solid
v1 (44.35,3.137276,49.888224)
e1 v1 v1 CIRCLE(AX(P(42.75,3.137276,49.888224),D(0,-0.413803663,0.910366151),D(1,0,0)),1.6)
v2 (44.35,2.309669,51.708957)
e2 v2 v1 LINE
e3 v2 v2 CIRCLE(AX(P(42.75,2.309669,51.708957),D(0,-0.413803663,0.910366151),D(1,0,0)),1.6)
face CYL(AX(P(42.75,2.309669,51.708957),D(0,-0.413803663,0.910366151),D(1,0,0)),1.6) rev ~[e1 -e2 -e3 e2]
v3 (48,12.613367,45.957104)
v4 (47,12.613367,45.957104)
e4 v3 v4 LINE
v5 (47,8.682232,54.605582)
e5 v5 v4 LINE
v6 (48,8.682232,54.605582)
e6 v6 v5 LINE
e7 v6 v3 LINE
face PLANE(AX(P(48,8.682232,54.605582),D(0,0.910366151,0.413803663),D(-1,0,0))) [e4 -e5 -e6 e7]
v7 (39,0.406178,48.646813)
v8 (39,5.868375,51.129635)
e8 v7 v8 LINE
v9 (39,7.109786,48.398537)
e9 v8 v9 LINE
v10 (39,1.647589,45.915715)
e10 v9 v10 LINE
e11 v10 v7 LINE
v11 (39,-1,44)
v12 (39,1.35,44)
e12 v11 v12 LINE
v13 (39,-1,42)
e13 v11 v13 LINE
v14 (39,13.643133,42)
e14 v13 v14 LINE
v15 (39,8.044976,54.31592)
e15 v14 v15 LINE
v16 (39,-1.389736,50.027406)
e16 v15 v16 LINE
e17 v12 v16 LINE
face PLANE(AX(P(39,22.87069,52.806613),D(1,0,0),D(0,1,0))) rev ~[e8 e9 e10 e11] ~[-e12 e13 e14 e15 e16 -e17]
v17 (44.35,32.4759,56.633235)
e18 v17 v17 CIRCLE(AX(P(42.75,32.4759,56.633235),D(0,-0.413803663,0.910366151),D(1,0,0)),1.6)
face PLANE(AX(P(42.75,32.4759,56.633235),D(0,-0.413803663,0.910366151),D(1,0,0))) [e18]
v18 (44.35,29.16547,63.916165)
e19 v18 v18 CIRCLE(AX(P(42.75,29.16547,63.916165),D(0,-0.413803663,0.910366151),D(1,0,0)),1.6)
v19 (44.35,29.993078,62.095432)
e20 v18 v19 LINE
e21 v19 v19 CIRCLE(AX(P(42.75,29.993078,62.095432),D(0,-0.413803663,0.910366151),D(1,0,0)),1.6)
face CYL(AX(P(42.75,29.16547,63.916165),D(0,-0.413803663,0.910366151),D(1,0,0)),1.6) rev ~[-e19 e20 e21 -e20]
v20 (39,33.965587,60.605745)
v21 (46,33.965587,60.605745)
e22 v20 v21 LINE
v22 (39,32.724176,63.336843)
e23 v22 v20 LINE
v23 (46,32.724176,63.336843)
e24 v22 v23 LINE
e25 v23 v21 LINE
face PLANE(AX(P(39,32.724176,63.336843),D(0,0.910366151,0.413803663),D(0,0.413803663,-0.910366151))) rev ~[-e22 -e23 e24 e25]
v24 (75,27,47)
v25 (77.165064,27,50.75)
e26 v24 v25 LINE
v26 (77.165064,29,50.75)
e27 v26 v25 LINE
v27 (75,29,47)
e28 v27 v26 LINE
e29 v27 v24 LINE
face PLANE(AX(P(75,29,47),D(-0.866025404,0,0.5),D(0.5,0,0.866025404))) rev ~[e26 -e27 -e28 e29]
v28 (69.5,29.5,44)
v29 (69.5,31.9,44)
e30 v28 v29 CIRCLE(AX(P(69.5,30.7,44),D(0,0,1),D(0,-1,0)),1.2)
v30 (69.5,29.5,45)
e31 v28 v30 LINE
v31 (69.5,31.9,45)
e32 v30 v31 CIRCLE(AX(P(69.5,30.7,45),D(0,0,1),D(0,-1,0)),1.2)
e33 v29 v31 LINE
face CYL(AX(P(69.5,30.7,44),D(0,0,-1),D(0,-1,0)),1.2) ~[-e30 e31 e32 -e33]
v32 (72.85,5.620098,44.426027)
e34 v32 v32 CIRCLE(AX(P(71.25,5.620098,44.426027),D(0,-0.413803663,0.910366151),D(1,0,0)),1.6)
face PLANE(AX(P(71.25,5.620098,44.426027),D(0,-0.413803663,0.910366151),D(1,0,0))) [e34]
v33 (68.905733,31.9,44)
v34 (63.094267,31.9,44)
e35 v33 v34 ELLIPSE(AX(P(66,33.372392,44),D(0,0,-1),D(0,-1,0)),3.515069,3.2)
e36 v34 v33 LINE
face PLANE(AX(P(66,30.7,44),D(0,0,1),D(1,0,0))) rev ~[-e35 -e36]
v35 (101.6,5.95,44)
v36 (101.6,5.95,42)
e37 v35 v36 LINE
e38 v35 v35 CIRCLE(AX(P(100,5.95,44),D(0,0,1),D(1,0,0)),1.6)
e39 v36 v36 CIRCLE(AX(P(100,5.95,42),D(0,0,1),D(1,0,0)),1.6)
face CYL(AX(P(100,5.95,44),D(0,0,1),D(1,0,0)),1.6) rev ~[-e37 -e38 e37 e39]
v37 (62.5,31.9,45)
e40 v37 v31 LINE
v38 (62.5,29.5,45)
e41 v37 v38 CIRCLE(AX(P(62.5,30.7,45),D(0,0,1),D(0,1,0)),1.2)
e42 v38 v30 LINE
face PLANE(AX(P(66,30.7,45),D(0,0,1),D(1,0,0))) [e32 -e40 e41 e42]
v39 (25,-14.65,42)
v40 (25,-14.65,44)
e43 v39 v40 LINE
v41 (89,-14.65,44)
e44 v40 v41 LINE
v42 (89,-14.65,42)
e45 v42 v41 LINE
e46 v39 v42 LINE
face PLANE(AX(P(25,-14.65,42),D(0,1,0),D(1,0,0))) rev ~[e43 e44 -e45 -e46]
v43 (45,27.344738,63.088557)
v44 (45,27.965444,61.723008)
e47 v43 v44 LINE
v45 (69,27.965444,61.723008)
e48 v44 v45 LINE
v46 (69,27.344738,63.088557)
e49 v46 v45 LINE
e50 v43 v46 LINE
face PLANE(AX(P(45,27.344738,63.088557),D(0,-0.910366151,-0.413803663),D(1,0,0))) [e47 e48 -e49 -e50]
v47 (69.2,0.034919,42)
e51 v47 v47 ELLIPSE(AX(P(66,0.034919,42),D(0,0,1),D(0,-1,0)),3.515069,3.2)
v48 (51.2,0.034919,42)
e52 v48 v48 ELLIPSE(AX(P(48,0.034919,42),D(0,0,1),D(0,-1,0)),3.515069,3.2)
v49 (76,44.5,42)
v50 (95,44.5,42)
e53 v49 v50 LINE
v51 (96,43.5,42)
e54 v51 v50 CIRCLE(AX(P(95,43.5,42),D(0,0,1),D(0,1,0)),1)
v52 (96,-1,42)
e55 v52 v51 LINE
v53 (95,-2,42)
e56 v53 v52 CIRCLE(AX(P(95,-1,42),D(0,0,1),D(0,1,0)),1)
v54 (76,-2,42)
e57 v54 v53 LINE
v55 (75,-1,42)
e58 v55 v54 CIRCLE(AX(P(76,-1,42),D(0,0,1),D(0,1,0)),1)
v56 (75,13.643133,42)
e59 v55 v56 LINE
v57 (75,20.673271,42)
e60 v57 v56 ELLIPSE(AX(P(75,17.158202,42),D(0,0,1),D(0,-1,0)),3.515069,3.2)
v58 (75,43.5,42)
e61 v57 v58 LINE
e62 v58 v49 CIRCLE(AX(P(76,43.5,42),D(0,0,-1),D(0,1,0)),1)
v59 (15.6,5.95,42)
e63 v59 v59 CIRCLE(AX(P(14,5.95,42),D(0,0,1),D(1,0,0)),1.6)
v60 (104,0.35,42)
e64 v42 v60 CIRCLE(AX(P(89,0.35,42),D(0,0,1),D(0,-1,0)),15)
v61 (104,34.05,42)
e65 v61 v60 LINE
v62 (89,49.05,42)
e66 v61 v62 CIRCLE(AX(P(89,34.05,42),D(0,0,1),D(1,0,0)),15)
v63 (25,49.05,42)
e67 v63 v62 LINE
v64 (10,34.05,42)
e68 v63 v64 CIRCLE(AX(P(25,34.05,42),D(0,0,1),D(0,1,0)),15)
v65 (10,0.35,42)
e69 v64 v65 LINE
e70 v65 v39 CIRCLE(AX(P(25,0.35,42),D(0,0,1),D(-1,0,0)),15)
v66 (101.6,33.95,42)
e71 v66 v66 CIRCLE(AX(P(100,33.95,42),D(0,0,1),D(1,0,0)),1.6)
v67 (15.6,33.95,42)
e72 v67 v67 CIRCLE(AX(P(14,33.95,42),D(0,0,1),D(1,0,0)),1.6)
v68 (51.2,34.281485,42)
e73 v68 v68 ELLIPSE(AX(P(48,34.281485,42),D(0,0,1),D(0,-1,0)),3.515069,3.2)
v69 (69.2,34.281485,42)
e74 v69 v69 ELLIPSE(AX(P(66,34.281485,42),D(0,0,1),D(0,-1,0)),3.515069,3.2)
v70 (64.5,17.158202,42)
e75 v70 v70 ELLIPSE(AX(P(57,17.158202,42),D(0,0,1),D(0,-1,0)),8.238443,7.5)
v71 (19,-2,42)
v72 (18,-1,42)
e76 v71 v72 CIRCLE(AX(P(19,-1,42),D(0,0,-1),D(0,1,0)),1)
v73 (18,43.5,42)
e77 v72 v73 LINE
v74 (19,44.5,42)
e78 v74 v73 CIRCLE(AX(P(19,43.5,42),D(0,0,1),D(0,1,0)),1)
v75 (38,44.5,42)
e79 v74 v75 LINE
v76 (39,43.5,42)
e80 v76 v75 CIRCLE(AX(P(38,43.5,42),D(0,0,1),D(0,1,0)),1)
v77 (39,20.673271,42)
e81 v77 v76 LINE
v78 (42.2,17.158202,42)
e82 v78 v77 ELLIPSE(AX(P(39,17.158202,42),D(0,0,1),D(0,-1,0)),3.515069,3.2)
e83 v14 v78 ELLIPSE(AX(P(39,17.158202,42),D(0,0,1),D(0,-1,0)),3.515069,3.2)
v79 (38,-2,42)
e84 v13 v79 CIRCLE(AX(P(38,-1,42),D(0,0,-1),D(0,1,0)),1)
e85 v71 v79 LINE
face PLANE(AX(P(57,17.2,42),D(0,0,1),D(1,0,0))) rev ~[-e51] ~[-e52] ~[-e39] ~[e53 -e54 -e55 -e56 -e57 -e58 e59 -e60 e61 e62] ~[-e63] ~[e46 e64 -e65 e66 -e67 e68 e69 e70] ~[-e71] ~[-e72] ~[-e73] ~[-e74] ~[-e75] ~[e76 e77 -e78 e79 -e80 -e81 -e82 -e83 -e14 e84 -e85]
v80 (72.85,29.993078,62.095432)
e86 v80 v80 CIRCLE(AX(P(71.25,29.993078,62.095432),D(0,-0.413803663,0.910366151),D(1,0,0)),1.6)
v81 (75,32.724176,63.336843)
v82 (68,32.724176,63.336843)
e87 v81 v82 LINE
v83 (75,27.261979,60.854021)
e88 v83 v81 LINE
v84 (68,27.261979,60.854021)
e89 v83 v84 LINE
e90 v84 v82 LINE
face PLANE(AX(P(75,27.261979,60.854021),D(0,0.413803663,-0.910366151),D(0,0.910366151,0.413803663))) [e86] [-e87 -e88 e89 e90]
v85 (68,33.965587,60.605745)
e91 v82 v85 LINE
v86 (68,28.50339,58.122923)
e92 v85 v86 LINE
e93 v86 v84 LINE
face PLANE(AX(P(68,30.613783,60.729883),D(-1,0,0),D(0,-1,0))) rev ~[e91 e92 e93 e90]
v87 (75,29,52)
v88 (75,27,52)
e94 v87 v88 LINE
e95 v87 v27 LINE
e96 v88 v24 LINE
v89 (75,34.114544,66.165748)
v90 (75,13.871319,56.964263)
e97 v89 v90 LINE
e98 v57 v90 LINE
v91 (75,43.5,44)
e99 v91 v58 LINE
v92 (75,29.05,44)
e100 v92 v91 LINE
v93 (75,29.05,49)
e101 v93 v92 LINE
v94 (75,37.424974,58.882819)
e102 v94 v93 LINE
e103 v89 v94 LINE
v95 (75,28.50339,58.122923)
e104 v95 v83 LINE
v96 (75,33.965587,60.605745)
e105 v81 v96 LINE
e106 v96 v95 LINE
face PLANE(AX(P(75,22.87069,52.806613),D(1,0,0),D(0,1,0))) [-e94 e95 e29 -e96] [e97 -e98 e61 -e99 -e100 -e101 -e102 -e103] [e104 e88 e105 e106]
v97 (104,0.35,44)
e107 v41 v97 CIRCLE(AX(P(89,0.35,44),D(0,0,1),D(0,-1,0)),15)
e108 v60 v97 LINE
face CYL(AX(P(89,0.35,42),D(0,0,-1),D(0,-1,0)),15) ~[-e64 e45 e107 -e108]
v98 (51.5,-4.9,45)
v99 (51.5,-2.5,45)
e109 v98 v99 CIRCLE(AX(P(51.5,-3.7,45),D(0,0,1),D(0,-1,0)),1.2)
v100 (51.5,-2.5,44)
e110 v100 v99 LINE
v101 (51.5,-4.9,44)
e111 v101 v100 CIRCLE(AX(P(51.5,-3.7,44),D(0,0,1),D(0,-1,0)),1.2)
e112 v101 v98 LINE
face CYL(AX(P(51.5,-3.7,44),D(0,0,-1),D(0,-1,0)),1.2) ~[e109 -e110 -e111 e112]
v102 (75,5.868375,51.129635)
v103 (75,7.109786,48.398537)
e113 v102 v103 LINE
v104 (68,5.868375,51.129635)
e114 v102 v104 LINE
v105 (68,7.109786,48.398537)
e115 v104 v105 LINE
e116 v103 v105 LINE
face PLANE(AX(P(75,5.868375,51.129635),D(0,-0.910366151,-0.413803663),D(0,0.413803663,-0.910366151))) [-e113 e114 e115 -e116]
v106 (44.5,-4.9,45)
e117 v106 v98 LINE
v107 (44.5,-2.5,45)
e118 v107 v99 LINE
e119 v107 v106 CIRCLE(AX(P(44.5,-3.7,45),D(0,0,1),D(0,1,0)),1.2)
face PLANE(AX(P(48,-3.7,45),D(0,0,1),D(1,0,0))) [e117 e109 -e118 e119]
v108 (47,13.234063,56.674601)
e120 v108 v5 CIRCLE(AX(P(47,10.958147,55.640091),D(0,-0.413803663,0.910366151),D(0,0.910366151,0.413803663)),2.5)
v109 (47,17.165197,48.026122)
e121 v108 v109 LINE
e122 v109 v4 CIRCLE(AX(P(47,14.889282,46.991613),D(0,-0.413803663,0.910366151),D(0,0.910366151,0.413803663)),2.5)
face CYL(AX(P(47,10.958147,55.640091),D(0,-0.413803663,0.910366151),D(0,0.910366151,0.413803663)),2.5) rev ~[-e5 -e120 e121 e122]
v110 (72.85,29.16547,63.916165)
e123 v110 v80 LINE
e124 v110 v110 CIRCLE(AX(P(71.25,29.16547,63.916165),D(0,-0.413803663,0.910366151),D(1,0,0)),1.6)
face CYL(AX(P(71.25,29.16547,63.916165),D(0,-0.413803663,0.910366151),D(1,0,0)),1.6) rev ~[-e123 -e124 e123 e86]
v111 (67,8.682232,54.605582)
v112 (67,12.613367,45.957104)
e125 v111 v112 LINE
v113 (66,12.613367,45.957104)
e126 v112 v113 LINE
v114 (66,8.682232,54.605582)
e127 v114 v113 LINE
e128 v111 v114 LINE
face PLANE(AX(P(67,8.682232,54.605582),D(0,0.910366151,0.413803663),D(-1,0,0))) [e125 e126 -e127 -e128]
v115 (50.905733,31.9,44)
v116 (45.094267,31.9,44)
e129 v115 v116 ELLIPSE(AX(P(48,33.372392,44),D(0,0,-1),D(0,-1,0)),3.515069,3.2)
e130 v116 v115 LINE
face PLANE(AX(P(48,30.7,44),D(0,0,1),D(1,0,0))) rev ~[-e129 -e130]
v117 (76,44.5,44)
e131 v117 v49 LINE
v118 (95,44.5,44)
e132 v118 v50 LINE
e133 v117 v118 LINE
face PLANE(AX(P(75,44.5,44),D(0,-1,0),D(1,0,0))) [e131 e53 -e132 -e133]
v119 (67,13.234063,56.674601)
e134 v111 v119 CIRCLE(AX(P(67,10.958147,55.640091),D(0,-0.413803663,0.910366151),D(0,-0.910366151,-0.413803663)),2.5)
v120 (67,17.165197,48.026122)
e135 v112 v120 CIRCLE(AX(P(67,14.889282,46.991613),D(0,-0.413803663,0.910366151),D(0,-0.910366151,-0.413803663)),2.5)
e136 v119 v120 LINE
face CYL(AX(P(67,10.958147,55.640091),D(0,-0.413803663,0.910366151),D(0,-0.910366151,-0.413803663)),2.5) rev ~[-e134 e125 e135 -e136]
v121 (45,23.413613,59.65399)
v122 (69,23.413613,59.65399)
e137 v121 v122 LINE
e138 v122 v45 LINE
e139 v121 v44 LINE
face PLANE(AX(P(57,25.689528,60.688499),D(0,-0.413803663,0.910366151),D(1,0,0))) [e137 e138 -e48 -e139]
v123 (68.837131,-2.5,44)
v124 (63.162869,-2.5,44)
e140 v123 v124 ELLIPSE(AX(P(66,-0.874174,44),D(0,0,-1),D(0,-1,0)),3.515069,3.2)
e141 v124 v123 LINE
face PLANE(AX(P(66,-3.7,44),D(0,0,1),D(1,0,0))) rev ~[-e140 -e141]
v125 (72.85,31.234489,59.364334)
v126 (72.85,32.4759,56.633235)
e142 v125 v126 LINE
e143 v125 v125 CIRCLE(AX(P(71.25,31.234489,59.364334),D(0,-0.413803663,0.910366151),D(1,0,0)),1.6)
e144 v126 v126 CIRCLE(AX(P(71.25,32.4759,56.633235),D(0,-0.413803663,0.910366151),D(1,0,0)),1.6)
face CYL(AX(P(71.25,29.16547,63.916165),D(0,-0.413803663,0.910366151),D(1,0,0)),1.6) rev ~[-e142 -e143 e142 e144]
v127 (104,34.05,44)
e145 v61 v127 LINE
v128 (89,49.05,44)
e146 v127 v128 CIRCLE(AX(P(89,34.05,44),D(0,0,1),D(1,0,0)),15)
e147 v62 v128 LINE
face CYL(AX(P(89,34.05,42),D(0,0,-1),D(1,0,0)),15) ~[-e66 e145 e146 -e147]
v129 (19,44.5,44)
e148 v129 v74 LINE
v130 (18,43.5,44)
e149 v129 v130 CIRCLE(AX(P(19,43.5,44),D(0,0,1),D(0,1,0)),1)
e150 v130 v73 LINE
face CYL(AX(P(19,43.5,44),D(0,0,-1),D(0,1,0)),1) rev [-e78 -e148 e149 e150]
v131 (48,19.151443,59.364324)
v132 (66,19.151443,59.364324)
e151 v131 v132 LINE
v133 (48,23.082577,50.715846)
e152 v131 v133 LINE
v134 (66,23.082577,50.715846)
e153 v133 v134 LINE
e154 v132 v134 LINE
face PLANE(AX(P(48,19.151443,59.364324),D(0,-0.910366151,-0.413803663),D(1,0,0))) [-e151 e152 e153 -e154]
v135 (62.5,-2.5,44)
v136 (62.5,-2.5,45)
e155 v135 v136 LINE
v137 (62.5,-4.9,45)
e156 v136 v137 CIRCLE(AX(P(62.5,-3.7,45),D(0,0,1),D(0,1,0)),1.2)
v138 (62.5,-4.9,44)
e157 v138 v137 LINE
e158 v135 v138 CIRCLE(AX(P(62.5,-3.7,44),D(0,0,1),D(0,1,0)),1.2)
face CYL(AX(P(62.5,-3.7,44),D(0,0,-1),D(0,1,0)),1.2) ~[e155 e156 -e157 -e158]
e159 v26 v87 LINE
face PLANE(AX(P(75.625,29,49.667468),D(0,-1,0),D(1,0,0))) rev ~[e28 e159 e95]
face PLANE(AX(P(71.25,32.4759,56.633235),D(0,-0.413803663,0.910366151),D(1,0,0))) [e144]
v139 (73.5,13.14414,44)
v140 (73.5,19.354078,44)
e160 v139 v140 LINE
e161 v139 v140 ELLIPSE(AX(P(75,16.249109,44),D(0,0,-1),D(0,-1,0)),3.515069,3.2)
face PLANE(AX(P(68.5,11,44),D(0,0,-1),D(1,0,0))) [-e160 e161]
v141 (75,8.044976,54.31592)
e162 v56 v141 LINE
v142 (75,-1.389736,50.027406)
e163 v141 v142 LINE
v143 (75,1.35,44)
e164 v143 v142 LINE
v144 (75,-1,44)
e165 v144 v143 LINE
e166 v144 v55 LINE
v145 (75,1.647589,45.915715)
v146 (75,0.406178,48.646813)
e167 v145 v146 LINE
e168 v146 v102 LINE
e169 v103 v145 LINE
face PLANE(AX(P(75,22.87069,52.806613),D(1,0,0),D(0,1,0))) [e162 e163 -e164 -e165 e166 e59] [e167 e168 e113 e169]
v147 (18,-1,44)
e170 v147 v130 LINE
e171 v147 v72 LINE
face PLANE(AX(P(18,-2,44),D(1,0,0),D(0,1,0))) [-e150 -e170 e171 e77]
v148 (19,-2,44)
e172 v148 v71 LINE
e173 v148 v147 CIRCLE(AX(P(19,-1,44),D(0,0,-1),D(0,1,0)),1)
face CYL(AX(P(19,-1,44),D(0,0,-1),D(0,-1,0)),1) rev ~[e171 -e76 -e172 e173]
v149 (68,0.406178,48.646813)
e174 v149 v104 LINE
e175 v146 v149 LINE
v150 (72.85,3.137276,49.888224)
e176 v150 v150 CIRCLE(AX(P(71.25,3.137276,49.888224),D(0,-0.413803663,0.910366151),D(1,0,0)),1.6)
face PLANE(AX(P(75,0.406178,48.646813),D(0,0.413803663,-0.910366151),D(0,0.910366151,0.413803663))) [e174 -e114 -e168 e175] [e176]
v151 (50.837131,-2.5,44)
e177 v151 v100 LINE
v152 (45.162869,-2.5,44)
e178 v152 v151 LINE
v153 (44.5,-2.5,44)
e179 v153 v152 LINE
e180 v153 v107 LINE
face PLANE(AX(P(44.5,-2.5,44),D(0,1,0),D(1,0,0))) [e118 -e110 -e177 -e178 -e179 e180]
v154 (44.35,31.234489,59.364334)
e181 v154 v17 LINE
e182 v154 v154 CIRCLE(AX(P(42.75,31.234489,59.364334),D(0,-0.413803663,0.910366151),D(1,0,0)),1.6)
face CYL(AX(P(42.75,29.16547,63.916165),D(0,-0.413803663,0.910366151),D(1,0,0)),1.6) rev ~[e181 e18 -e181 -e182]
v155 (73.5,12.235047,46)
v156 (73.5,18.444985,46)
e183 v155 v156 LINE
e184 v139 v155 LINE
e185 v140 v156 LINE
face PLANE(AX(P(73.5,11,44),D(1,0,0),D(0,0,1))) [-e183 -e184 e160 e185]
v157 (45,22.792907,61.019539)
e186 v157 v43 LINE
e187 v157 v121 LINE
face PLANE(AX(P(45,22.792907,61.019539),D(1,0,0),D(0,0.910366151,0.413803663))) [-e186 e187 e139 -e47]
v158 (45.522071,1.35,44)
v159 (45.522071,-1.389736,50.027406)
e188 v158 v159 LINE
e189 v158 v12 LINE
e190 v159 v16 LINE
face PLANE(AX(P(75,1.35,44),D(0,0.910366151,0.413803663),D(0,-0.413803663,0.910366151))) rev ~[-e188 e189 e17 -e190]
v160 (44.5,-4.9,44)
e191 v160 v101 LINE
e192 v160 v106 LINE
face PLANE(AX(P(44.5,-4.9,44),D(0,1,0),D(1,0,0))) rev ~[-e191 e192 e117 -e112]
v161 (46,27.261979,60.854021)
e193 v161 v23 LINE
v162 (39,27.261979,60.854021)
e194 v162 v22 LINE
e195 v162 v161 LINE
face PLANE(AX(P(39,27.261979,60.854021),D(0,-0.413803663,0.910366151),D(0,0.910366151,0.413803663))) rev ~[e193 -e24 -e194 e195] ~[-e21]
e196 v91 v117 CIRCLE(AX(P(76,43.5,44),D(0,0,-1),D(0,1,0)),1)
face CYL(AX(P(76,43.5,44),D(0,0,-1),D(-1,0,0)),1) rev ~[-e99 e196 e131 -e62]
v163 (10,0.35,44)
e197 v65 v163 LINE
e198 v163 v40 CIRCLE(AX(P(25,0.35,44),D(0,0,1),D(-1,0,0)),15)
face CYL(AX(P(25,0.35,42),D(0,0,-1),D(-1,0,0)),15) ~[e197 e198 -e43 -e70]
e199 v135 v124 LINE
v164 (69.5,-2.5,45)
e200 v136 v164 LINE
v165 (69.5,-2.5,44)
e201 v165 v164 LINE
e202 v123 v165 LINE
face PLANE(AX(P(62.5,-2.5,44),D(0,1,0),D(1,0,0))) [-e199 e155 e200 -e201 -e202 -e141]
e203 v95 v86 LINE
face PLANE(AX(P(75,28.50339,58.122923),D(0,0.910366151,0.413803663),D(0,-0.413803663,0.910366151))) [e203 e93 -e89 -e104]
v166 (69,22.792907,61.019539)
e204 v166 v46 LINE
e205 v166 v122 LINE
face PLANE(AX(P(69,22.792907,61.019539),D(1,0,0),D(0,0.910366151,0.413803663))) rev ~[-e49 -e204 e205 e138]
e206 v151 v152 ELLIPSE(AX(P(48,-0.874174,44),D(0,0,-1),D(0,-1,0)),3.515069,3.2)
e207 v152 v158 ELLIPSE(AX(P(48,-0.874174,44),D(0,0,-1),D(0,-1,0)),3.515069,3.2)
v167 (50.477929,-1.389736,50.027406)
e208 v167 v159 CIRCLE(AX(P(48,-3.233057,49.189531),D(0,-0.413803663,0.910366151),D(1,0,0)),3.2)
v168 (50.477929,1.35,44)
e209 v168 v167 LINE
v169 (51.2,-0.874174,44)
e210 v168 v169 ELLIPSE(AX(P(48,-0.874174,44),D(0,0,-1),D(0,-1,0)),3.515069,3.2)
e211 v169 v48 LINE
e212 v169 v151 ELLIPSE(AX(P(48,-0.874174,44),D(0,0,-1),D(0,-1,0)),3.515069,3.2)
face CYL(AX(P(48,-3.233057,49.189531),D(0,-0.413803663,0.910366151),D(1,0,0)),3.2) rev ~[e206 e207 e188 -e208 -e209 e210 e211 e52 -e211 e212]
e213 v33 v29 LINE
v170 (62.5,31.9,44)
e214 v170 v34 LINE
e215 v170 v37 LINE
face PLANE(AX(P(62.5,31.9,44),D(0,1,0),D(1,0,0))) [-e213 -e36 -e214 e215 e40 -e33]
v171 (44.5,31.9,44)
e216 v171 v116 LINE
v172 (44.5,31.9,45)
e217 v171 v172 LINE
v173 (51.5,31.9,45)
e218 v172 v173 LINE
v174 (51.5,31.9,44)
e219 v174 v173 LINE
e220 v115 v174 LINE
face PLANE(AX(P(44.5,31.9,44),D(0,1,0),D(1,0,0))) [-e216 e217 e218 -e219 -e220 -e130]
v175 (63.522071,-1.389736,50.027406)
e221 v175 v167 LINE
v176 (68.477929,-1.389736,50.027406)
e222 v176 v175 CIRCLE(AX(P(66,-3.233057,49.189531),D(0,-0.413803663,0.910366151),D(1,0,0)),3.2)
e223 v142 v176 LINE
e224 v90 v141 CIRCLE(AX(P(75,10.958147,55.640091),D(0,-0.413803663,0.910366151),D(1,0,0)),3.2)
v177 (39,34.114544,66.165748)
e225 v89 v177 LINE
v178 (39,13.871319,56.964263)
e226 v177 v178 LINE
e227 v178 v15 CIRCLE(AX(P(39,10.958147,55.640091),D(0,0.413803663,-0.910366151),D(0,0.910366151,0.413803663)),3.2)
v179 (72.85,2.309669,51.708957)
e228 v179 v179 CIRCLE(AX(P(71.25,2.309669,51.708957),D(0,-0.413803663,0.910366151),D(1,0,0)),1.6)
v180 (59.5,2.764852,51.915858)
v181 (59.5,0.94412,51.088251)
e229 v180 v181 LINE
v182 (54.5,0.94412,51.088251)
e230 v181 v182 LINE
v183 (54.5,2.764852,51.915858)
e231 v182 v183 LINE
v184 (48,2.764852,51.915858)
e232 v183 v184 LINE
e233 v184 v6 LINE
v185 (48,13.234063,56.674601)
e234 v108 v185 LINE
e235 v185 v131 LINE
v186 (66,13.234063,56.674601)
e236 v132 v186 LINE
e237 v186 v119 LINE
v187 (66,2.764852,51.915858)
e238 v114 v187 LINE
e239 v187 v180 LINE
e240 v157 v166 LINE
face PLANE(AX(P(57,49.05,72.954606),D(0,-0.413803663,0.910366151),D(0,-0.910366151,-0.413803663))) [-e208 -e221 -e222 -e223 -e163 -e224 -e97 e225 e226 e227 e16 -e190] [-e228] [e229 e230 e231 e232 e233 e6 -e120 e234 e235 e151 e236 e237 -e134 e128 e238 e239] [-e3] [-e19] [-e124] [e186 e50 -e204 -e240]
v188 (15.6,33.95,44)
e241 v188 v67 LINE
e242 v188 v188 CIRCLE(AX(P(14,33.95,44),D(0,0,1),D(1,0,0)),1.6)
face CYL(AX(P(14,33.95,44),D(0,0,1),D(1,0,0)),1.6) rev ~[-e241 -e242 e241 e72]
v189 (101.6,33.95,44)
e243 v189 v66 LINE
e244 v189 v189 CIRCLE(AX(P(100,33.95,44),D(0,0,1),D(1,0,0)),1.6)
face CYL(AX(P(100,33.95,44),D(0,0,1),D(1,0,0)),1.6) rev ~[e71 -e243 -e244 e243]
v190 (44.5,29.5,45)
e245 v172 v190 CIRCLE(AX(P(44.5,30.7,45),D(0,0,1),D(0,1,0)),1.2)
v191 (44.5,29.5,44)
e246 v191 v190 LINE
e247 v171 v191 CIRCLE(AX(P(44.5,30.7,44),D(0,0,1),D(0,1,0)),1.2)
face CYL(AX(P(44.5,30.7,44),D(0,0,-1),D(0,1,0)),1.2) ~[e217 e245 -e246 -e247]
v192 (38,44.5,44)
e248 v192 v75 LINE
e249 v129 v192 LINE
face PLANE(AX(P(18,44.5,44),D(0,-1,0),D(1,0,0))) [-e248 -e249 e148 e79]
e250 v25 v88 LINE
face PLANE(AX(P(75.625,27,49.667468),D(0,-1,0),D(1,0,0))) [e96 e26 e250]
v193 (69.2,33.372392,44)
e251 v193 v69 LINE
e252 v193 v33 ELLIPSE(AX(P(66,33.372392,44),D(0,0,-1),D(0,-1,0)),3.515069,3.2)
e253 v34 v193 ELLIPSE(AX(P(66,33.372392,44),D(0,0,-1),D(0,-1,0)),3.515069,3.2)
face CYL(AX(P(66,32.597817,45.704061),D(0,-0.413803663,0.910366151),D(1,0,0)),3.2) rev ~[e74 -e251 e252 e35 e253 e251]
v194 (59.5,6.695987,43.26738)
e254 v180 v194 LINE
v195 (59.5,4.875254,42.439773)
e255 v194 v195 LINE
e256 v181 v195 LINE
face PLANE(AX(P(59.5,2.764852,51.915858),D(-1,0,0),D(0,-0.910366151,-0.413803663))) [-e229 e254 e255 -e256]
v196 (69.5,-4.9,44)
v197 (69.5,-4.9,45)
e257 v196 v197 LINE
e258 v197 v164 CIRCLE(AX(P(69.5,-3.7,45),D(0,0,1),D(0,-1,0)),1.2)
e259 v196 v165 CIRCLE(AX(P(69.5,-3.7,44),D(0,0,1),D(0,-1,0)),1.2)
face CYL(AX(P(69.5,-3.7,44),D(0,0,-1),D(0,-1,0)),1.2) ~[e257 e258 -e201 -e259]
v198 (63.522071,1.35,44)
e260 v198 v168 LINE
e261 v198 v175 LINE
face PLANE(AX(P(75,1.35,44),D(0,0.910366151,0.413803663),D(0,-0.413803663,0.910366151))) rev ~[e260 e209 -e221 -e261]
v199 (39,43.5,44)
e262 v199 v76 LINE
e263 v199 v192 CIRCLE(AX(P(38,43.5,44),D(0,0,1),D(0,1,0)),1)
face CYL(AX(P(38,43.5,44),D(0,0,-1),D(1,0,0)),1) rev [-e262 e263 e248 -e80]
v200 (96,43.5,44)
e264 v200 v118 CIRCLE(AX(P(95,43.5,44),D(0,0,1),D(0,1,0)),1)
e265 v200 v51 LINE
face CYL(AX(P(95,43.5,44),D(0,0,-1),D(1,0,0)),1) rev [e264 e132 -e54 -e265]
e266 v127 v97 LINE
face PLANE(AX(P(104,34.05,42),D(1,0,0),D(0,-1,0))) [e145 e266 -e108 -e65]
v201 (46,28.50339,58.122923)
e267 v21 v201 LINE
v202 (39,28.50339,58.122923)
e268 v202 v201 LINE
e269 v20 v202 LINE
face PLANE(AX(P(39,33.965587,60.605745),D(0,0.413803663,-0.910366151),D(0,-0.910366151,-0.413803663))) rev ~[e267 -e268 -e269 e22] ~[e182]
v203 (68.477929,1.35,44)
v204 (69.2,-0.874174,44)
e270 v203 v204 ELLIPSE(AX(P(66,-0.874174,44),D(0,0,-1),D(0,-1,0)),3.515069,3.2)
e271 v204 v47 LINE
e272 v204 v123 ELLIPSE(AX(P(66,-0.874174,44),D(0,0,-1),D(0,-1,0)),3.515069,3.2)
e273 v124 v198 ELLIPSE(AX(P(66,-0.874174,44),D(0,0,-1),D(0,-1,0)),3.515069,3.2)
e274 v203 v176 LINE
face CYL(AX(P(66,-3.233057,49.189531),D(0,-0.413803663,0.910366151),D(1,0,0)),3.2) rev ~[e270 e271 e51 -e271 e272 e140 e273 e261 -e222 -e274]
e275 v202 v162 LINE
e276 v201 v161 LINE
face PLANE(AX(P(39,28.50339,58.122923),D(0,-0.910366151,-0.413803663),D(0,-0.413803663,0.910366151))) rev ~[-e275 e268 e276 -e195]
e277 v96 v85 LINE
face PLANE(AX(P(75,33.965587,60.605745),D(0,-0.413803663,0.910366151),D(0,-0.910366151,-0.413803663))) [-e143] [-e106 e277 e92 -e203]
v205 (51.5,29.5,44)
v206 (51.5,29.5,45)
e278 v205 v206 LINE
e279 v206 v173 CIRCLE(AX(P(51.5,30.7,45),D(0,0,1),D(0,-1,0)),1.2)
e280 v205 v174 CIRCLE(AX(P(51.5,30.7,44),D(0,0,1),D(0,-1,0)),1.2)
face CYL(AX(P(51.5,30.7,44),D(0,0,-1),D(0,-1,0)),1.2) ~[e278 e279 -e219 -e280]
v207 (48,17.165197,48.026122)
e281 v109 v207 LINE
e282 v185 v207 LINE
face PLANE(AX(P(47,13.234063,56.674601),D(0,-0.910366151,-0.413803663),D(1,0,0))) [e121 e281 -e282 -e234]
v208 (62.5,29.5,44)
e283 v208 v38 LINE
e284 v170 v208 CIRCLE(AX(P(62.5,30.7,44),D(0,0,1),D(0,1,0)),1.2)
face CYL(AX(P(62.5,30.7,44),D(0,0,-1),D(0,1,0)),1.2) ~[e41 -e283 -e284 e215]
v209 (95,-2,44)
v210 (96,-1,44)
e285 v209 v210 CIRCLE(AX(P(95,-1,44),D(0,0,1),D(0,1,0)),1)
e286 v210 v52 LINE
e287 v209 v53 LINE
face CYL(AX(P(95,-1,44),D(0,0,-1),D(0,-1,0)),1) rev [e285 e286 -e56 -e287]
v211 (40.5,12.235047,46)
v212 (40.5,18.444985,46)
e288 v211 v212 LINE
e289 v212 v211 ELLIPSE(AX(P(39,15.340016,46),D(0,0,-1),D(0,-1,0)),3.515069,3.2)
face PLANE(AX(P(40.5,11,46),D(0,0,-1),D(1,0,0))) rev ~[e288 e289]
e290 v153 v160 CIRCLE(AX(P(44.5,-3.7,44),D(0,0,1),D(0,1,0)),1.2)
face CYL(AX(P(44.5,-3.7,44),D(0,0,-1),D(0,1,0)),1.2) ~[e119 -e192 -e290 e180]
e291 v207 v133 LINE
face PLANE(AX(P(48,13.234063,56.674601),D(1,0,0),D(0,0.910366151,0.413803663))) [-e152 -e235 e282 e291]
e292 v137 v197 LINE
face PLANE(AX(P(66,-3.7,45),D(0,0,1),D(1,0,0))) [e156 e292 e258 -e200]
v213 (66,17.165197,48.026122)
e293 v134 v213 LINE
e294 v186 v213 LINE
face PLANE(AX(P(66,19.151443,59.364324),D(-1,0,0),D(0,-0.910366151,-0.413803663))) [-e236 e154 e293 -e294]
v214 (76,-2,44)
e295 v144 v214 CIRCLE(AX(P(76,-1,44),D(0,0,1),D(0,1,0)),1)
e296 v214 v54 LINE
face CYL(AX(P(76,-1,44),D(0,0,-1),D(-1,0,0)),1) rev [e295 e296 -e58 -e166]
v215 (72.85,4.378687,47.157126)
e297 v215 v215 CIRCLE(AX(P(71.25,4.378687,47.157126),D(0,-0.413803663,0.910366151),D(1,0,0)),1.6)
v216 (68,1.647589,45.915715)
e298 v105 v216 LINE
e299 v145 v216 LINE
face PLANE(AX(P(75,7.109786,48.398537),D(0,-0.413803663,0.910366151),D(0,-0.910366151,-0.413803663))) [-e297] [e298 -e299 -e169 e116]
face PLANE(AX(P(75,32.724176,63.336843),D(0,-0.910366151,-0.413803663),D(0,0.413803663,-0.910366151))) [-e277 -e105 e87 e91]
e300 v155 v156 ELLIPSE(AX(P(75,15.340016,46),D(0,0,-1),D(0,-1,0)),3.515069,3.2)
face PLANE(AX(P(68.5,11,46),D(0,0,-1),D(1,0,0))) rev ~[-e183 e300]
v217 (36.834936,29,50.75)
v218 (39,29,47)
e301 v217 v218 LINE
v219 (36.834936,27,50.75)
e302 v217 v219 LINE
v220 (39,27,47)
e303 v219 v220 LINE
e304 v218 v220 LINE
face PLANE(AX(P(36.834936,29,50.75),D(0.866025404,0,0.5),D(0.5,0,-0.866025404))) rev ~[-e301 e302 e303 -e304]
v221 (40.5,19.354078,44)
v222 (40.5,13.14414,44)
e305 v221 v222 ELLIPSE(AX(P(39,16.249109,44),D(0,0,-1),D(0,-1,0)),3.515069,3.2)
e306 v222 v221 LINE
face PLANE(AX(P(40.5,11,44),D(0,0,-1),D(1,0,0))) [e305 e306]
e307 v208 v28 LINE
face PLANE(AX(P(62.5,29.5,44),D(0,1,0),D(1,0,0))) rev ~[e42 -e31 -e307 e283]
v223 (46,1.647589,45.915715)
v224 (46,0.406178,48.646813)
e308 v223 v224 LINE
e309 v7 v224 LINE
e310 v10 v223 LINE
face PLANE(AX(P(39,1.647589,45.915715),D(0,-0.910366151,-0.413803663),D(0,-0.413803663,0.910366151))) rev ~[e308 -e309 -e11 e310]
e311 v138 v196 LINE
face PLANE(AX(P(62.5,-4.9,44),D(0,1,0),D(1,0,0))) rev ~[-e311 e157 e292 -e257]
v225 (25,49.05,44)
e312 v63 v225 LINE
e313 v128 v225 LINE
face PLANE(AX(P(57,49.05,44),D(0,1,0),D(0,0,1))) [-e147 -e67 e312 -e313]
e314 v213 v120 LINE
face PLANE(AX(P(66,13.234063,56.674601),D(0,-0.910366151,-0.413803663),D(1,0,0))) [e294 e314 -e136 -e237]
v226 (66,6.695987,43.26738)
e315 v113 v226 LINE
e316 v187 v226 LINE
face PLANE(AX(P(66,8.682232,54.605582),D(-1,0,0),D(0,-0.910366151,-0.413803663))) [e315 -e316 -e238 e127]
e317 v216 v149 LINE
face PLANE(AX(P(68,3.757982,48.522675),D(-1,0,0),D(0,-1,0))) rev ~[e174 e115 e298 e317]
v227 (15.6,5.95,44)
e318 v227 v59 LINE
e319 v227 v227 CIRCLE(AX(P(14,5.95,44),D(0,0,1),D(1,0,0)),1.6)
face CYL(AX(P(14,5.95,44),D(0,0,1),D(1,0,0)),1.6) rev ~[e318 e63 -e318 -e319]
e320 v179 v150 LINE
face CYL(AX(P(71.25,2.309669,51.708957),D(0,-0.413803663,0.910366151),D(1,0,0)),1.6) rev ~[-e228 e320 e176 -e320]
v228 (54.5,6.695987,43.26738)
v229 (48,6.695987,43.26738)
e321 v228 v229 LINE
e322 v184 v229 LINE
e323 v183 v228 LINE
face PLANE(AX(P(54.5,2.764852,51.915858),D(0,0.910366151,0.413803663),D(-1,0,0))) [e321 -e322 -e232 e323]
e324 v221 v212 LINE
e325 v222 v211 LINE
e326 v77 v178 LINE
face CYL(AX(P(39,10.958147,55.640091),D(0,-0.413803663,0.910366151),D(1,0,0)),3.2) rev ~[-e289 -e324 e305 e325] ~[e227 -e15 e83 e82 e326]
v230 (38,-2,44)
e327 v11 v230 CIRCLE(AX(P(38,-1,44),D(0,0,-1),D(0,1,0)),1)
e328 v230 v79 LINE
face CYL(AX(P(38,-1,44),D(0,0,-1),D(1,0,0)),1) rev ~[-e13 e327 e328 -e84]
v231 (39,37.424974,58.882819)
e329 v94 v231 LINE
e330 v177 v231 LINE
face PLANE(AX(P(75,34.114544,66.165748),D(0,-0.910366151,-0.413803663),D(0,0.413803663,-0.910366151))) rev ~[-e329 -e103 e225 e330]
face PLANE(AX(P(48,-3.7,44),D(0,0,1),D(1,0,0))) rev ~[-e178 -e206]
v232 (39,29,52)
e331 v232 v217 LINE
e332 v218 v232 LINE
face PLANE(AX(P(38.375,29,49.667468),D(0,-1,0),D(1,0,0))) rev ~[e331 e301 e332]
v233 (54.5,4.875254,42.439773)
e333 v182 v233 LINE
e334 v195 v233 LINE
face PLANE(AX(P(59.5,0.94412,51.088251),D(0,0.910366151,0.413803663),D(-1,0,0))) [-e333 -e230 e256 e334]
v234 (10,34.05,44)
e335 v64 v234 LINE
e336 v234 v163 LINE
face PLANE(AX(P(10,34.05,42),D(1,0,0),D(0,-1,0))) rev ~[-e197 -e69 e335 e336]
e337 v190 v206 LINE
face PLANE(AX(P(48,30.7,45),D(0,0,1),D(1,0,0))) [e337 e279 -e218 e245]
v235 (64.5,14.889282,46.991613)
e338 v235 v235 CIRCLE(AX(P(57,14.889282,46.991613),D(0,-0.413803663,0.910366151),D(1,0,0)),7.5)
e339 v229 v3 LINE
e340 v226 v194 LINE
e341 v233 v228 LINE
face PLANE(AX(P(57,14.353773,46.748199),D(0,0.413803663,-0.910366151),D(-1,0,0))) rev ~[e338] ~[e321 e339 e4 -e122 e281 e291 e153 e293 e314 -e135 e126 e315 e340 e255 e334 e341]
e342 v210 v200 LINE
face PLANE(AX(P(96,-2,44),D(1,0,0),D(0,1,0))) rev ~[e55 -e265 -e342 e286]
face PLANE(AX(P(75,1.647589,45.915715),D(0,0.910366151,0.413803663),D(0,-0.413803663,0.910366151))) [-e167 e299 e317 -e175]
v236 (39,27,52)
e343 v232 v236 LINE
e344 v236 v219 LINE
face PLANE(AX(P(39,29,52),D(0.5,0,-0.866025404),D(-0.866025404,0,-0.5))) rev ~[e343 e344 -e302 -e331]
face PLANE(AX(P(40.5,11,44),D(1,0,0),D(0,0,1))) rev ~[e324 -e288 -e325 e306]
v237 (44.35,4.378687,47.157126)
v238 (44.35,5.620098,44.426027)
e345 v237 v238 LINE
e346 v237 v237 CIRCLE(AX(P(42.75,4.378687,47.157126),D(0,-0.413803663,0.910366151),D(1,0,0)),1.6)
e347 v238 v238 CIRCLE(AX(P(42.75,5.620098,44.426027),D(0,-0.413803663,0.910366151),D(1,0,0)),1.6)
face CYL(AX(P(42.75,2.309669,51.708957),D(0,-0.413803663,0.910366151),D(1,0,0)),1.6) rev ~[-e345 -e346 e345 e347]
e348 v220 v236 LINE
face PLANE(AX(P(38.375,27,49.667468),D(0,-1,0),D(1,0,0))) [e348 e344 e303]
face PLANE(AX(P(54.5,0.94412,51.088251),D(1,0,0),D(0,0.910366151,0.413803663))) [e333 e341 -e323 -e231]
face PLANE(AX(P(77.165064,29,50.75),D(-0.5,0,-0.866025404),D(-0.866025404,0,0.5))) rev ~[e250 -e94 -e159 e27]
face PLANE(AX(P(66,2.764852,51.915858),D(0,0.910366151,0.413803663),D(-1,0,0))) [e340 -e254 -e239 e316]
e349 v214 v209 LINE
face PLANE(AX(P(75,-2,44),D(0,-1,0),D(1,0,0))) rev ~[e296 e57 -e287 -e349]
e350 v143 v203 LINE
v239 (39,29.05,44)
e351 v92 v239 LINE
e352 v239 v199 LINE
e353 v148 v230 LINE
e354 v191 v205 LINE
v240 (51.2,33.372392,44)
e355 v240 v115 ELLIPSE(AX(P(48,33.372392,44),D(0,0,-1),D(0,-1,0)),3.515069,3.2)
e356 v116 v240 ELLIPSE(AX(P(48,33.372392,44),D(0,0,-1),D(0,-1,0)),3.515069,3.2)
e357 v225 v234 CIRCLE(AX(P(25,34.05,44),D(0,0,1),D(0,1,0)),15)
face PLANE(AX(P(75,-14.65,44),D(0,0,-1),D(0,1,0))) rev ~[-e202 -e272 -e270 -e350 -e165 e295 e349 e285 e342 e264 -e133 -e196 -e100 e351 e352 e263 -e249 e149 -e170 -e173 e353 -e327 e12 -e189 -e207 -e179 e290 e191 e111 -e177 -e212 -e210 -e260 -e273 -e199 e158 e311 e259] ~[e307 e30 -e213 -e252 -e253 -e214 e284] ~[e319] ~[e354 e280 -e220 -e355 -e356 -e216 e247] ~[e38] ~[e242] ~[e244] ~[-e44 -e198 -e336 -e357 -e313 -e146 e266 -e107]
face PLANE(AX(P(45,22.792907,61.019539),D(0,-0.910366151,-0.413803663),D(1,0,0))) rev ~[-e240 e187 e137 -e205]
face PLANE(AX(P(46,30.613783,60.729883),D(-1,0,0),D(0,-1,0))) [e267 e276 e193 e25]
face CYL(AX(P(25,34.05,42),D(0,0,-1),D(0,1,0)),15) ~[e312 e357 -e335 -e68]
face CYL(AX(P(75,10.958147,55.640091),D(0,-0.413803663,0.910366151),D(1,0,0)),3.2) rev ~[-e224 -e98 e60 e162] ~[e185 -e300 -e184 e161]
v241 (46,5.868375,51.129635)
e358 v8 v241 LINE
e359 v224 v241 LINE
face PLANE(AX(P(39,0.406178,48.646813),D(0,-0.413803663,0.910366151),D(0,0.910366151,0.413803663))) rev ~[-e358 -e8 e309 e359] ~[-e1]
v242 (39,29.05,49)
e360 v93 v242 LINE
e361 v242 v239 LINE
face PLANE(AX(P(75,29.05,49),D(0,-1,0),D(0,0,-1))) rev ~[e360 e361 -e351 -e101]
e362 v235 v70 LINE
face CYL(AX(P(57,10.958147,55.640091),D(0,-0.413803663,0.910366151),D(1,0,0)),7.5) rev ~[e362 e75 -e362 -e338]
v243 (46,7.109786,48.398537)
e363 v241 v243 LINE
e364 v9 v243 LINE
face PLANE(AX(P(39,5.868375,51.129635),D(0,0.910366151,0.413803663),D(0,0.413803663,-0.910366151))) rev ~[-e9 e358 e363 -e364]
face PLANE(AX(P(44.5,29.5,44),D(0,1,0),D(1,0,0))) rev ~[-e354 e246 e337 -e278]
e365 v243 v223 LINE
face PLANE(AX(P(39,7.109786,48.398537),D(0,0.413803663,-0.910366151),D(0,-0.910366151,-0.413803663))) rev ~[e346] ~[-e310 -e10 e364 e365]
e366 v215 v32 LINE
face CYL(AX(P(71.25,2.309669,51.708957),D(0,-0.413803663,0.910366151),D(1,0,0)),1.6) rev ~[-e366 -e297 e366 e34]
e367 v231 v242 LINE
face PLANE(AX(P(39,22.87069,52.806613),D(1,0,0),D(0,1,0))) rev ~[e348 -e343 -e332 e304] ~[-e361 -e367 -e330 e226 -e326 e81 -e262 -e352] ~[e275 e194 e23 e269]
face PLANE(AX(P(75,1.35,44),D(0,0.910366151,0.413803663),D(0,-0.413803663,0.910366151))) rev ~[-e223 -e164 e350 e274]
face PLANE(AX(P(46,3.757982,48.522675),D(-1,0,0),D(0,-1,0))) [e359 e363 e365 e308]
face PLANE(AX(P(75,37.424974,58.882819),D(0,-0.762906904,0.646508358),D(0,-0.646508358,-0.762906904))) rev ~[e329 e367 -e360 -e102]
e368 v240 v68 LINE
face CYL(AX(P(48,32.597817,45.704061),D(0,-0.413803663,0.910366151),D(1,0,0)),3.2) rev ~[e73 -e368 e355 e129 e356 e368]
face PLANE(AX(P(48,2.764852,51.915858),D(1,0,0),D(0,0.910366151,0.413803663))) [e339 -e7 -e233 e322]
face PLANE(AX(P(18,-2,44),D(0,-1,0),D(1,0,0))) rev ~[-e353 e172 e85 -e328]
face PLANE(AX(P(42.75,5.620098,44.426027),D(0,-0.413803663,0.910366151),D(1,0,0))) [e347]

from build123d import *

# Parameters (mm, degrees)
PAD047_DEPTH      = 2
PAD048_DEPTH      = 18
PAD048_DEPTH_BACK = 18
SKETCH145_W       = 21
SKETCH145_H       = 46.5
POCKET061_DEPTH   = 2
FILLET010_R       = 1
POCKET062_DEPTH   = 36
SKETCH147_R       = 3.2
SKETCH147_R_2     = 7.5
POCKET063_DEPTH   = 40
SKETCH148_R       = 3.2
POCKET064_DEPTH   = 16
SKETCH149_R       = 1.6
POCKET065_DEPTH   = 8
POCKET066_DEPTH   = 7
POCKET067_DEPTH   = 7
POCKET068_DEPTH   = 9.5
SKETCH153_W       = 24
SKETCH153_H       = 5
POCKET069_DEPTH   = 1.5
PAD049_DEPTH      = 2
PAD050_DEPTH      = 1
SKETCH156_W       = 5
SKETCH156_H       = 2
PAD051_DEPTH      = 15
SKETCH157_R       = 1.6
POCKET070_DEPTH   = 5


with BuildPart() as part:
    # Sketch143 → Pad047 (new body)
    with BuildSketch(Plane.XY.offset(42)):
        with BuildLine():
            ThreePointArc((10, 0.35), (14.3933982822, -10.2566017178), (25, -14.65))
            Line((25, -14.65), (89, -14.65))
            ThreePointArc((89, -14.65), (99.6066017178, -10.2566017178), (104, 0.35))
            Line((104, 34.05), (104, 0.35))
            ThreePointArc((104, 34.05), (99.6066017178, 44.6566017178), (89, 49.05))
            Line((25, 49.05), (89, 49.05))
            ThreePointArc((25, 49.05), (14.3933982822, 44.6566017178), (10, 34.05))
            Line((10, 34.05), (10, 0.35))
        make_face()
    extrude(amount=PAD047_DEPTH)

    # Sketch144 → Pad048 (join, two sides)
    with BuildSketch(Plane.YZ.offset(57)) as pad048_sk:
        Polygon((-14.65, 44), (49.05, 44), (49.05, 72.9546061157), align=None)
    extrude(amount=PAD048_DEPTH)
    extrude(pad048_sk.sketch, amount=-PAD048_DEPTH_BACK)

    # Sketch145 (on Face8 of Pad048) → Pocket061 (cut)
    with BuildSketch(Plane.XY.offset(44)):
        with Locations((85.5, 21.25)):
            Rectangle(SKETCH145_W, SKETCH145_H)
        with Locations((28.5, 21.25)):
            Rectangle(SKETCH145_W, SKETCH145_H)
    extrude(amount=-POCKET061_DEPTH, mode=Mode.SUBTRACT)

    # Fillet010
    fillet010_edges = [part.edges().sort_by_distance(p)[0] for p in [
        (75, 44.5, 43),
        (96, 44.5, 43),
        (75, -2, 43),
        (96, -2, 43),
        (18, -2, 43),
        (39, -2, 43),
        (39, 44.5, 43),
        (18, 44.5, 43),
    ]]
    fillet(fillet010_edges, radius=FILLET010_R)

    # Sketch146 (on Face31 of Fillet010) → Pocket062 (cut)
    with BuildSketch(Plane.YZ.offset(75)):
        Polygon((-14.65, 44), (1.35, 44), (-1.3897355414, 50.0274055634), align=None)
        Polygon((34.1145443428, 66.1657484122), (37.4249736451, 58.8828192052), (29.05, 49), (29.05, 44), (49.05, 44), (49.05, 72.9546061157), align=None)
    extrude(amount=-POCKET062_DEPTH, mode=Mode.SUBTRACT)

    # Sketch147 (on Face33 of Pocket062) → Pocket063 (cut)
    with BuildSketch(Plane(origin=(0, -19.0839356545, 41.9845704801), x_dir=(1, 0, 0), z_dir=(0, -0.4138036628, 0.9103661509))):
        with Locations((39, 33)):
            Circle(SKETCH147_R)
        with Locations((48, 17.4115427319)):
            Circle(SKETCH147_R)
        with Locations((66, 17.4115427319)):
            Circle(SKETCH147_R)
        with Locations((75, 33)):
            Circle(SKETCH147_R)
        with Locations((57, 33)):
            Circle(SKETCH147_R_2)
    extrude(amount=-POCKET063_DEPTH, mode=Mode.SUBTRACT)

    # Sketch148 (on Face33 of Pocket062) → Pocket064 (cut)
    with BuildSketch(Plane(origin=(0, -11.6354697243, 25.5979797643), x_dir=(1, 0, 0), z_dir=(0, -0.4138036628, 0.9103661509))):
        with Locations((48, 48.5884572681)):
            Circle(SKETCH148_R)
        with Locations((66, 48.5884572681)):
            Circle(SKETCH148_R)
    extrude(amount=-POCKET064_DEPTH, mode=Mode.SUBTRACT)

    # Sketch149 (on Face41 of Pocket064) → Pocket065 (cut)
    with BuildSketch(Plane(origin=(0, -19.0839356545, 41.9845704801), x_dir=(1, 0, 0), z_dir=(0, -0.4138036628, 0.9103661509))):
        with Locations((42.75, 53)):
            Circle(SKETCH149_R)
        with Locations((71.25, 53)):
            Circle(SKETCH149_R)
        with Locations((71.25, 23.5)):
            Circle(SKETCH149_R)
        with Locations((42.75, 23.5)):
            Circle(SKETCH149_R)
    extrude(amount=-POCKET065_DEPTH, mode=Mode.SUBTRACT)

    # Sketch150 (on Face47 of Pocket065) → Pocket066 (cut)
    with BuildSketch(Plane.YZ.offset(75)):
        Polygon((0.4061777641, 48.6468132655), (5.8683746693, 51.1296352423), (7.1097856577, 48.3985367897), (1.6475887524, 45.9157148129), align=None)
        Polygon((27.2619792149, 60.8540213179), (32.7241761202, 63.3368432946), (33.9655871086, 60.605744842), (28.5033902033, 58.1229228652), align=None)
    extrude(amount=-POCKET066_DEPTH, mode=Mode.SUBTRACT)

    # Sketch151 (on Face47 of Pocket065) → Pocket067 (cut)
    with BuildSketch(Plane.YZ.offset(39)):
        Polygon((0.4061777641, 48.6468132655), (5.8683746693, 51.1296352423), (7.1097856577, 48.3985367897), (1.6475887524, 45.9157148129), align=None)
        Polygon((27.2619792149, 60.8540213179), (32.7241761202, 63.3368432946), (33.9655871086, 60.605744842), (28.5033902033, 58.1229228652), align=None)
    extrude(amount=POCKET067_DEPTH, mode=Mode.SUBTRACT)

    # Sketch152 (on Face41 of Pocket067) → Pocket068 (cut)
    with BuildSketch(Plane(origin=(0, -19.0839356545, 41.9845704801), x_dir=(1, 0, 0), z_dir=(0, -0.4138036628, 0.9103661509))):
        with BuildLine():
            Line((48, 42), (66, 42))
            Line((66, 42), (66, 35.5))
            Line((66, 35.5), (67, 35.5))
            ThreePointArc((67, 30.5), (69.5, 33), (67, 35.5))
            Line((67, 30.5), (66, 30.5))
            Line((66, 30.5), (66, 24))
            Line((66, 24), (59.5, 24))
            Line((59.5, 24), (59.5, 22))
            Line((59.5, 22), (54.5, 22))
            Line((54.5, 22), (54.5, 24))
            Line((54.5, 24), (48, 24))
            Line((48, 24), (48, 30.5))
            Line((48, 30.5), (47, 30.5))
            ThreePointArc((47, 35.5), (44.5, 33), (47, 30.5))
            Line((47, 35.5), (48, 35.5))
            Line((48, 35.5), (48, 42))
        make_face()
    extrude(amount=-POCKET068_DEPTH, mode=Mode.SUBTRACT)

    # Sketch153 (on Face41 of Pocket068) → Pocket069 (cut)
    with BuildSketch(Plane(origin=(0, -19.0839356545, 41.9845704801), x_dir=(1, 0, 0), z_dir=(0, -0.4138036628, 0.9103661509))):
        with Locations((57, 48.5)):
            Rectangle(SKETCH153_W, SKETCH153_H)
    extrude(amount=-POCKET069_DEPTH, mode=Mode.SUBTRACT)

    # Sketch154 → Pad049 (join)
    with BuildSketch(Plane.XZ.offset(-29)):
        Polygon((39, 47), (39, 52), (36.8349364905, 50.75), align=None)
        Polygon((75, 52), (75, 47), (77.1650635095, 50.75), align=None)
    extrude(amount=PAD049_DEPTH)

    # Sketch155 (on Face39 of Pad049) → Pad050 (join)
    with BuildSketch(Plane.XY.offset(44)):
        with BuildLine():
            ThreePointArc((44.5, -2.5), (43.3, -3.7), (44.5, -4.9))
            Line((44.5, -4.9), (51.5, -4.9))
            ThreePointArc((51.5, -4.9), (52.7, -3.7), (51.5, -2.5))
            Line((44.5, -2.5), (51.5, -2.5))
        make_face()
        with BuildLine():
            ThreePointArc((44.5, 31.9), (43.3, 30.7), (44.5, 29.5))
            Line((44.5, 29.5), (51.5, 29.5))
            ThreePointArc((51.5, 29.5), (52.7, 30.7), (51.5, 31.9))
            Line((44.5, 31.9), (51.5, 31.9))
        make_face()
        with BuildLine():
            ThreePointArc((62.5, 31.9), (61.3, 30.7), (62.5, 29.5))
            Line((62.5, 29.5), (69.5, 29.5))
            ThreePointArc((69.5, 29.5), (70.7, 30.7), (69.5, 31.9))
            Line((62.5, 31.9), (69.5, 31.9))
        make_face()
        with BuildLine():
            ThreePointArc((62.5, -2.5), (61.3, -3.7), (62.5, -4.9))
            Line((62.5, -4.9), (69.5, -4.9))
            ThreePointArc((69.5, -4.9), (70.7, -3.7), (69.5, -2.5))
            Line((62.5, -2.5), (69.5, -2.5))
        make_face()
    extrude(amount=PAD050_DEPTH)

    # Sketch156 → Pad051 (join)
    with BuildSketch(Plane.XZ.offset(-11)):
        with Locations((43, 45)):
            Rectangle(SKETCH156_W, SKETCH156_H)
        with Locations((71, 45)):
            Rectangle(SKETCH156_W, SKETCH156_H)
    extrude(amount=-PAD051_DEPTH)

    # Sketch157 (on Face38 of Pad051) → Pocket070 (cut)
    with BuildSketch(Plane.XY.offset(44)):
        with Locations((14, 33.95)):
            Circle(SKETCH157_R)
        with Locations((100, 33.95)):
            Circle(SKETCH157_R)
        with Locations((100, 5.95)):
            Circle(SKETCH157_R)
        with Locations((14, 5.95)):
            Circle(SKETCH157_R)
    extrude(amount=-POCKET070_DEPTH, mode=Mode.SUBTRACT)


solid = part.part
